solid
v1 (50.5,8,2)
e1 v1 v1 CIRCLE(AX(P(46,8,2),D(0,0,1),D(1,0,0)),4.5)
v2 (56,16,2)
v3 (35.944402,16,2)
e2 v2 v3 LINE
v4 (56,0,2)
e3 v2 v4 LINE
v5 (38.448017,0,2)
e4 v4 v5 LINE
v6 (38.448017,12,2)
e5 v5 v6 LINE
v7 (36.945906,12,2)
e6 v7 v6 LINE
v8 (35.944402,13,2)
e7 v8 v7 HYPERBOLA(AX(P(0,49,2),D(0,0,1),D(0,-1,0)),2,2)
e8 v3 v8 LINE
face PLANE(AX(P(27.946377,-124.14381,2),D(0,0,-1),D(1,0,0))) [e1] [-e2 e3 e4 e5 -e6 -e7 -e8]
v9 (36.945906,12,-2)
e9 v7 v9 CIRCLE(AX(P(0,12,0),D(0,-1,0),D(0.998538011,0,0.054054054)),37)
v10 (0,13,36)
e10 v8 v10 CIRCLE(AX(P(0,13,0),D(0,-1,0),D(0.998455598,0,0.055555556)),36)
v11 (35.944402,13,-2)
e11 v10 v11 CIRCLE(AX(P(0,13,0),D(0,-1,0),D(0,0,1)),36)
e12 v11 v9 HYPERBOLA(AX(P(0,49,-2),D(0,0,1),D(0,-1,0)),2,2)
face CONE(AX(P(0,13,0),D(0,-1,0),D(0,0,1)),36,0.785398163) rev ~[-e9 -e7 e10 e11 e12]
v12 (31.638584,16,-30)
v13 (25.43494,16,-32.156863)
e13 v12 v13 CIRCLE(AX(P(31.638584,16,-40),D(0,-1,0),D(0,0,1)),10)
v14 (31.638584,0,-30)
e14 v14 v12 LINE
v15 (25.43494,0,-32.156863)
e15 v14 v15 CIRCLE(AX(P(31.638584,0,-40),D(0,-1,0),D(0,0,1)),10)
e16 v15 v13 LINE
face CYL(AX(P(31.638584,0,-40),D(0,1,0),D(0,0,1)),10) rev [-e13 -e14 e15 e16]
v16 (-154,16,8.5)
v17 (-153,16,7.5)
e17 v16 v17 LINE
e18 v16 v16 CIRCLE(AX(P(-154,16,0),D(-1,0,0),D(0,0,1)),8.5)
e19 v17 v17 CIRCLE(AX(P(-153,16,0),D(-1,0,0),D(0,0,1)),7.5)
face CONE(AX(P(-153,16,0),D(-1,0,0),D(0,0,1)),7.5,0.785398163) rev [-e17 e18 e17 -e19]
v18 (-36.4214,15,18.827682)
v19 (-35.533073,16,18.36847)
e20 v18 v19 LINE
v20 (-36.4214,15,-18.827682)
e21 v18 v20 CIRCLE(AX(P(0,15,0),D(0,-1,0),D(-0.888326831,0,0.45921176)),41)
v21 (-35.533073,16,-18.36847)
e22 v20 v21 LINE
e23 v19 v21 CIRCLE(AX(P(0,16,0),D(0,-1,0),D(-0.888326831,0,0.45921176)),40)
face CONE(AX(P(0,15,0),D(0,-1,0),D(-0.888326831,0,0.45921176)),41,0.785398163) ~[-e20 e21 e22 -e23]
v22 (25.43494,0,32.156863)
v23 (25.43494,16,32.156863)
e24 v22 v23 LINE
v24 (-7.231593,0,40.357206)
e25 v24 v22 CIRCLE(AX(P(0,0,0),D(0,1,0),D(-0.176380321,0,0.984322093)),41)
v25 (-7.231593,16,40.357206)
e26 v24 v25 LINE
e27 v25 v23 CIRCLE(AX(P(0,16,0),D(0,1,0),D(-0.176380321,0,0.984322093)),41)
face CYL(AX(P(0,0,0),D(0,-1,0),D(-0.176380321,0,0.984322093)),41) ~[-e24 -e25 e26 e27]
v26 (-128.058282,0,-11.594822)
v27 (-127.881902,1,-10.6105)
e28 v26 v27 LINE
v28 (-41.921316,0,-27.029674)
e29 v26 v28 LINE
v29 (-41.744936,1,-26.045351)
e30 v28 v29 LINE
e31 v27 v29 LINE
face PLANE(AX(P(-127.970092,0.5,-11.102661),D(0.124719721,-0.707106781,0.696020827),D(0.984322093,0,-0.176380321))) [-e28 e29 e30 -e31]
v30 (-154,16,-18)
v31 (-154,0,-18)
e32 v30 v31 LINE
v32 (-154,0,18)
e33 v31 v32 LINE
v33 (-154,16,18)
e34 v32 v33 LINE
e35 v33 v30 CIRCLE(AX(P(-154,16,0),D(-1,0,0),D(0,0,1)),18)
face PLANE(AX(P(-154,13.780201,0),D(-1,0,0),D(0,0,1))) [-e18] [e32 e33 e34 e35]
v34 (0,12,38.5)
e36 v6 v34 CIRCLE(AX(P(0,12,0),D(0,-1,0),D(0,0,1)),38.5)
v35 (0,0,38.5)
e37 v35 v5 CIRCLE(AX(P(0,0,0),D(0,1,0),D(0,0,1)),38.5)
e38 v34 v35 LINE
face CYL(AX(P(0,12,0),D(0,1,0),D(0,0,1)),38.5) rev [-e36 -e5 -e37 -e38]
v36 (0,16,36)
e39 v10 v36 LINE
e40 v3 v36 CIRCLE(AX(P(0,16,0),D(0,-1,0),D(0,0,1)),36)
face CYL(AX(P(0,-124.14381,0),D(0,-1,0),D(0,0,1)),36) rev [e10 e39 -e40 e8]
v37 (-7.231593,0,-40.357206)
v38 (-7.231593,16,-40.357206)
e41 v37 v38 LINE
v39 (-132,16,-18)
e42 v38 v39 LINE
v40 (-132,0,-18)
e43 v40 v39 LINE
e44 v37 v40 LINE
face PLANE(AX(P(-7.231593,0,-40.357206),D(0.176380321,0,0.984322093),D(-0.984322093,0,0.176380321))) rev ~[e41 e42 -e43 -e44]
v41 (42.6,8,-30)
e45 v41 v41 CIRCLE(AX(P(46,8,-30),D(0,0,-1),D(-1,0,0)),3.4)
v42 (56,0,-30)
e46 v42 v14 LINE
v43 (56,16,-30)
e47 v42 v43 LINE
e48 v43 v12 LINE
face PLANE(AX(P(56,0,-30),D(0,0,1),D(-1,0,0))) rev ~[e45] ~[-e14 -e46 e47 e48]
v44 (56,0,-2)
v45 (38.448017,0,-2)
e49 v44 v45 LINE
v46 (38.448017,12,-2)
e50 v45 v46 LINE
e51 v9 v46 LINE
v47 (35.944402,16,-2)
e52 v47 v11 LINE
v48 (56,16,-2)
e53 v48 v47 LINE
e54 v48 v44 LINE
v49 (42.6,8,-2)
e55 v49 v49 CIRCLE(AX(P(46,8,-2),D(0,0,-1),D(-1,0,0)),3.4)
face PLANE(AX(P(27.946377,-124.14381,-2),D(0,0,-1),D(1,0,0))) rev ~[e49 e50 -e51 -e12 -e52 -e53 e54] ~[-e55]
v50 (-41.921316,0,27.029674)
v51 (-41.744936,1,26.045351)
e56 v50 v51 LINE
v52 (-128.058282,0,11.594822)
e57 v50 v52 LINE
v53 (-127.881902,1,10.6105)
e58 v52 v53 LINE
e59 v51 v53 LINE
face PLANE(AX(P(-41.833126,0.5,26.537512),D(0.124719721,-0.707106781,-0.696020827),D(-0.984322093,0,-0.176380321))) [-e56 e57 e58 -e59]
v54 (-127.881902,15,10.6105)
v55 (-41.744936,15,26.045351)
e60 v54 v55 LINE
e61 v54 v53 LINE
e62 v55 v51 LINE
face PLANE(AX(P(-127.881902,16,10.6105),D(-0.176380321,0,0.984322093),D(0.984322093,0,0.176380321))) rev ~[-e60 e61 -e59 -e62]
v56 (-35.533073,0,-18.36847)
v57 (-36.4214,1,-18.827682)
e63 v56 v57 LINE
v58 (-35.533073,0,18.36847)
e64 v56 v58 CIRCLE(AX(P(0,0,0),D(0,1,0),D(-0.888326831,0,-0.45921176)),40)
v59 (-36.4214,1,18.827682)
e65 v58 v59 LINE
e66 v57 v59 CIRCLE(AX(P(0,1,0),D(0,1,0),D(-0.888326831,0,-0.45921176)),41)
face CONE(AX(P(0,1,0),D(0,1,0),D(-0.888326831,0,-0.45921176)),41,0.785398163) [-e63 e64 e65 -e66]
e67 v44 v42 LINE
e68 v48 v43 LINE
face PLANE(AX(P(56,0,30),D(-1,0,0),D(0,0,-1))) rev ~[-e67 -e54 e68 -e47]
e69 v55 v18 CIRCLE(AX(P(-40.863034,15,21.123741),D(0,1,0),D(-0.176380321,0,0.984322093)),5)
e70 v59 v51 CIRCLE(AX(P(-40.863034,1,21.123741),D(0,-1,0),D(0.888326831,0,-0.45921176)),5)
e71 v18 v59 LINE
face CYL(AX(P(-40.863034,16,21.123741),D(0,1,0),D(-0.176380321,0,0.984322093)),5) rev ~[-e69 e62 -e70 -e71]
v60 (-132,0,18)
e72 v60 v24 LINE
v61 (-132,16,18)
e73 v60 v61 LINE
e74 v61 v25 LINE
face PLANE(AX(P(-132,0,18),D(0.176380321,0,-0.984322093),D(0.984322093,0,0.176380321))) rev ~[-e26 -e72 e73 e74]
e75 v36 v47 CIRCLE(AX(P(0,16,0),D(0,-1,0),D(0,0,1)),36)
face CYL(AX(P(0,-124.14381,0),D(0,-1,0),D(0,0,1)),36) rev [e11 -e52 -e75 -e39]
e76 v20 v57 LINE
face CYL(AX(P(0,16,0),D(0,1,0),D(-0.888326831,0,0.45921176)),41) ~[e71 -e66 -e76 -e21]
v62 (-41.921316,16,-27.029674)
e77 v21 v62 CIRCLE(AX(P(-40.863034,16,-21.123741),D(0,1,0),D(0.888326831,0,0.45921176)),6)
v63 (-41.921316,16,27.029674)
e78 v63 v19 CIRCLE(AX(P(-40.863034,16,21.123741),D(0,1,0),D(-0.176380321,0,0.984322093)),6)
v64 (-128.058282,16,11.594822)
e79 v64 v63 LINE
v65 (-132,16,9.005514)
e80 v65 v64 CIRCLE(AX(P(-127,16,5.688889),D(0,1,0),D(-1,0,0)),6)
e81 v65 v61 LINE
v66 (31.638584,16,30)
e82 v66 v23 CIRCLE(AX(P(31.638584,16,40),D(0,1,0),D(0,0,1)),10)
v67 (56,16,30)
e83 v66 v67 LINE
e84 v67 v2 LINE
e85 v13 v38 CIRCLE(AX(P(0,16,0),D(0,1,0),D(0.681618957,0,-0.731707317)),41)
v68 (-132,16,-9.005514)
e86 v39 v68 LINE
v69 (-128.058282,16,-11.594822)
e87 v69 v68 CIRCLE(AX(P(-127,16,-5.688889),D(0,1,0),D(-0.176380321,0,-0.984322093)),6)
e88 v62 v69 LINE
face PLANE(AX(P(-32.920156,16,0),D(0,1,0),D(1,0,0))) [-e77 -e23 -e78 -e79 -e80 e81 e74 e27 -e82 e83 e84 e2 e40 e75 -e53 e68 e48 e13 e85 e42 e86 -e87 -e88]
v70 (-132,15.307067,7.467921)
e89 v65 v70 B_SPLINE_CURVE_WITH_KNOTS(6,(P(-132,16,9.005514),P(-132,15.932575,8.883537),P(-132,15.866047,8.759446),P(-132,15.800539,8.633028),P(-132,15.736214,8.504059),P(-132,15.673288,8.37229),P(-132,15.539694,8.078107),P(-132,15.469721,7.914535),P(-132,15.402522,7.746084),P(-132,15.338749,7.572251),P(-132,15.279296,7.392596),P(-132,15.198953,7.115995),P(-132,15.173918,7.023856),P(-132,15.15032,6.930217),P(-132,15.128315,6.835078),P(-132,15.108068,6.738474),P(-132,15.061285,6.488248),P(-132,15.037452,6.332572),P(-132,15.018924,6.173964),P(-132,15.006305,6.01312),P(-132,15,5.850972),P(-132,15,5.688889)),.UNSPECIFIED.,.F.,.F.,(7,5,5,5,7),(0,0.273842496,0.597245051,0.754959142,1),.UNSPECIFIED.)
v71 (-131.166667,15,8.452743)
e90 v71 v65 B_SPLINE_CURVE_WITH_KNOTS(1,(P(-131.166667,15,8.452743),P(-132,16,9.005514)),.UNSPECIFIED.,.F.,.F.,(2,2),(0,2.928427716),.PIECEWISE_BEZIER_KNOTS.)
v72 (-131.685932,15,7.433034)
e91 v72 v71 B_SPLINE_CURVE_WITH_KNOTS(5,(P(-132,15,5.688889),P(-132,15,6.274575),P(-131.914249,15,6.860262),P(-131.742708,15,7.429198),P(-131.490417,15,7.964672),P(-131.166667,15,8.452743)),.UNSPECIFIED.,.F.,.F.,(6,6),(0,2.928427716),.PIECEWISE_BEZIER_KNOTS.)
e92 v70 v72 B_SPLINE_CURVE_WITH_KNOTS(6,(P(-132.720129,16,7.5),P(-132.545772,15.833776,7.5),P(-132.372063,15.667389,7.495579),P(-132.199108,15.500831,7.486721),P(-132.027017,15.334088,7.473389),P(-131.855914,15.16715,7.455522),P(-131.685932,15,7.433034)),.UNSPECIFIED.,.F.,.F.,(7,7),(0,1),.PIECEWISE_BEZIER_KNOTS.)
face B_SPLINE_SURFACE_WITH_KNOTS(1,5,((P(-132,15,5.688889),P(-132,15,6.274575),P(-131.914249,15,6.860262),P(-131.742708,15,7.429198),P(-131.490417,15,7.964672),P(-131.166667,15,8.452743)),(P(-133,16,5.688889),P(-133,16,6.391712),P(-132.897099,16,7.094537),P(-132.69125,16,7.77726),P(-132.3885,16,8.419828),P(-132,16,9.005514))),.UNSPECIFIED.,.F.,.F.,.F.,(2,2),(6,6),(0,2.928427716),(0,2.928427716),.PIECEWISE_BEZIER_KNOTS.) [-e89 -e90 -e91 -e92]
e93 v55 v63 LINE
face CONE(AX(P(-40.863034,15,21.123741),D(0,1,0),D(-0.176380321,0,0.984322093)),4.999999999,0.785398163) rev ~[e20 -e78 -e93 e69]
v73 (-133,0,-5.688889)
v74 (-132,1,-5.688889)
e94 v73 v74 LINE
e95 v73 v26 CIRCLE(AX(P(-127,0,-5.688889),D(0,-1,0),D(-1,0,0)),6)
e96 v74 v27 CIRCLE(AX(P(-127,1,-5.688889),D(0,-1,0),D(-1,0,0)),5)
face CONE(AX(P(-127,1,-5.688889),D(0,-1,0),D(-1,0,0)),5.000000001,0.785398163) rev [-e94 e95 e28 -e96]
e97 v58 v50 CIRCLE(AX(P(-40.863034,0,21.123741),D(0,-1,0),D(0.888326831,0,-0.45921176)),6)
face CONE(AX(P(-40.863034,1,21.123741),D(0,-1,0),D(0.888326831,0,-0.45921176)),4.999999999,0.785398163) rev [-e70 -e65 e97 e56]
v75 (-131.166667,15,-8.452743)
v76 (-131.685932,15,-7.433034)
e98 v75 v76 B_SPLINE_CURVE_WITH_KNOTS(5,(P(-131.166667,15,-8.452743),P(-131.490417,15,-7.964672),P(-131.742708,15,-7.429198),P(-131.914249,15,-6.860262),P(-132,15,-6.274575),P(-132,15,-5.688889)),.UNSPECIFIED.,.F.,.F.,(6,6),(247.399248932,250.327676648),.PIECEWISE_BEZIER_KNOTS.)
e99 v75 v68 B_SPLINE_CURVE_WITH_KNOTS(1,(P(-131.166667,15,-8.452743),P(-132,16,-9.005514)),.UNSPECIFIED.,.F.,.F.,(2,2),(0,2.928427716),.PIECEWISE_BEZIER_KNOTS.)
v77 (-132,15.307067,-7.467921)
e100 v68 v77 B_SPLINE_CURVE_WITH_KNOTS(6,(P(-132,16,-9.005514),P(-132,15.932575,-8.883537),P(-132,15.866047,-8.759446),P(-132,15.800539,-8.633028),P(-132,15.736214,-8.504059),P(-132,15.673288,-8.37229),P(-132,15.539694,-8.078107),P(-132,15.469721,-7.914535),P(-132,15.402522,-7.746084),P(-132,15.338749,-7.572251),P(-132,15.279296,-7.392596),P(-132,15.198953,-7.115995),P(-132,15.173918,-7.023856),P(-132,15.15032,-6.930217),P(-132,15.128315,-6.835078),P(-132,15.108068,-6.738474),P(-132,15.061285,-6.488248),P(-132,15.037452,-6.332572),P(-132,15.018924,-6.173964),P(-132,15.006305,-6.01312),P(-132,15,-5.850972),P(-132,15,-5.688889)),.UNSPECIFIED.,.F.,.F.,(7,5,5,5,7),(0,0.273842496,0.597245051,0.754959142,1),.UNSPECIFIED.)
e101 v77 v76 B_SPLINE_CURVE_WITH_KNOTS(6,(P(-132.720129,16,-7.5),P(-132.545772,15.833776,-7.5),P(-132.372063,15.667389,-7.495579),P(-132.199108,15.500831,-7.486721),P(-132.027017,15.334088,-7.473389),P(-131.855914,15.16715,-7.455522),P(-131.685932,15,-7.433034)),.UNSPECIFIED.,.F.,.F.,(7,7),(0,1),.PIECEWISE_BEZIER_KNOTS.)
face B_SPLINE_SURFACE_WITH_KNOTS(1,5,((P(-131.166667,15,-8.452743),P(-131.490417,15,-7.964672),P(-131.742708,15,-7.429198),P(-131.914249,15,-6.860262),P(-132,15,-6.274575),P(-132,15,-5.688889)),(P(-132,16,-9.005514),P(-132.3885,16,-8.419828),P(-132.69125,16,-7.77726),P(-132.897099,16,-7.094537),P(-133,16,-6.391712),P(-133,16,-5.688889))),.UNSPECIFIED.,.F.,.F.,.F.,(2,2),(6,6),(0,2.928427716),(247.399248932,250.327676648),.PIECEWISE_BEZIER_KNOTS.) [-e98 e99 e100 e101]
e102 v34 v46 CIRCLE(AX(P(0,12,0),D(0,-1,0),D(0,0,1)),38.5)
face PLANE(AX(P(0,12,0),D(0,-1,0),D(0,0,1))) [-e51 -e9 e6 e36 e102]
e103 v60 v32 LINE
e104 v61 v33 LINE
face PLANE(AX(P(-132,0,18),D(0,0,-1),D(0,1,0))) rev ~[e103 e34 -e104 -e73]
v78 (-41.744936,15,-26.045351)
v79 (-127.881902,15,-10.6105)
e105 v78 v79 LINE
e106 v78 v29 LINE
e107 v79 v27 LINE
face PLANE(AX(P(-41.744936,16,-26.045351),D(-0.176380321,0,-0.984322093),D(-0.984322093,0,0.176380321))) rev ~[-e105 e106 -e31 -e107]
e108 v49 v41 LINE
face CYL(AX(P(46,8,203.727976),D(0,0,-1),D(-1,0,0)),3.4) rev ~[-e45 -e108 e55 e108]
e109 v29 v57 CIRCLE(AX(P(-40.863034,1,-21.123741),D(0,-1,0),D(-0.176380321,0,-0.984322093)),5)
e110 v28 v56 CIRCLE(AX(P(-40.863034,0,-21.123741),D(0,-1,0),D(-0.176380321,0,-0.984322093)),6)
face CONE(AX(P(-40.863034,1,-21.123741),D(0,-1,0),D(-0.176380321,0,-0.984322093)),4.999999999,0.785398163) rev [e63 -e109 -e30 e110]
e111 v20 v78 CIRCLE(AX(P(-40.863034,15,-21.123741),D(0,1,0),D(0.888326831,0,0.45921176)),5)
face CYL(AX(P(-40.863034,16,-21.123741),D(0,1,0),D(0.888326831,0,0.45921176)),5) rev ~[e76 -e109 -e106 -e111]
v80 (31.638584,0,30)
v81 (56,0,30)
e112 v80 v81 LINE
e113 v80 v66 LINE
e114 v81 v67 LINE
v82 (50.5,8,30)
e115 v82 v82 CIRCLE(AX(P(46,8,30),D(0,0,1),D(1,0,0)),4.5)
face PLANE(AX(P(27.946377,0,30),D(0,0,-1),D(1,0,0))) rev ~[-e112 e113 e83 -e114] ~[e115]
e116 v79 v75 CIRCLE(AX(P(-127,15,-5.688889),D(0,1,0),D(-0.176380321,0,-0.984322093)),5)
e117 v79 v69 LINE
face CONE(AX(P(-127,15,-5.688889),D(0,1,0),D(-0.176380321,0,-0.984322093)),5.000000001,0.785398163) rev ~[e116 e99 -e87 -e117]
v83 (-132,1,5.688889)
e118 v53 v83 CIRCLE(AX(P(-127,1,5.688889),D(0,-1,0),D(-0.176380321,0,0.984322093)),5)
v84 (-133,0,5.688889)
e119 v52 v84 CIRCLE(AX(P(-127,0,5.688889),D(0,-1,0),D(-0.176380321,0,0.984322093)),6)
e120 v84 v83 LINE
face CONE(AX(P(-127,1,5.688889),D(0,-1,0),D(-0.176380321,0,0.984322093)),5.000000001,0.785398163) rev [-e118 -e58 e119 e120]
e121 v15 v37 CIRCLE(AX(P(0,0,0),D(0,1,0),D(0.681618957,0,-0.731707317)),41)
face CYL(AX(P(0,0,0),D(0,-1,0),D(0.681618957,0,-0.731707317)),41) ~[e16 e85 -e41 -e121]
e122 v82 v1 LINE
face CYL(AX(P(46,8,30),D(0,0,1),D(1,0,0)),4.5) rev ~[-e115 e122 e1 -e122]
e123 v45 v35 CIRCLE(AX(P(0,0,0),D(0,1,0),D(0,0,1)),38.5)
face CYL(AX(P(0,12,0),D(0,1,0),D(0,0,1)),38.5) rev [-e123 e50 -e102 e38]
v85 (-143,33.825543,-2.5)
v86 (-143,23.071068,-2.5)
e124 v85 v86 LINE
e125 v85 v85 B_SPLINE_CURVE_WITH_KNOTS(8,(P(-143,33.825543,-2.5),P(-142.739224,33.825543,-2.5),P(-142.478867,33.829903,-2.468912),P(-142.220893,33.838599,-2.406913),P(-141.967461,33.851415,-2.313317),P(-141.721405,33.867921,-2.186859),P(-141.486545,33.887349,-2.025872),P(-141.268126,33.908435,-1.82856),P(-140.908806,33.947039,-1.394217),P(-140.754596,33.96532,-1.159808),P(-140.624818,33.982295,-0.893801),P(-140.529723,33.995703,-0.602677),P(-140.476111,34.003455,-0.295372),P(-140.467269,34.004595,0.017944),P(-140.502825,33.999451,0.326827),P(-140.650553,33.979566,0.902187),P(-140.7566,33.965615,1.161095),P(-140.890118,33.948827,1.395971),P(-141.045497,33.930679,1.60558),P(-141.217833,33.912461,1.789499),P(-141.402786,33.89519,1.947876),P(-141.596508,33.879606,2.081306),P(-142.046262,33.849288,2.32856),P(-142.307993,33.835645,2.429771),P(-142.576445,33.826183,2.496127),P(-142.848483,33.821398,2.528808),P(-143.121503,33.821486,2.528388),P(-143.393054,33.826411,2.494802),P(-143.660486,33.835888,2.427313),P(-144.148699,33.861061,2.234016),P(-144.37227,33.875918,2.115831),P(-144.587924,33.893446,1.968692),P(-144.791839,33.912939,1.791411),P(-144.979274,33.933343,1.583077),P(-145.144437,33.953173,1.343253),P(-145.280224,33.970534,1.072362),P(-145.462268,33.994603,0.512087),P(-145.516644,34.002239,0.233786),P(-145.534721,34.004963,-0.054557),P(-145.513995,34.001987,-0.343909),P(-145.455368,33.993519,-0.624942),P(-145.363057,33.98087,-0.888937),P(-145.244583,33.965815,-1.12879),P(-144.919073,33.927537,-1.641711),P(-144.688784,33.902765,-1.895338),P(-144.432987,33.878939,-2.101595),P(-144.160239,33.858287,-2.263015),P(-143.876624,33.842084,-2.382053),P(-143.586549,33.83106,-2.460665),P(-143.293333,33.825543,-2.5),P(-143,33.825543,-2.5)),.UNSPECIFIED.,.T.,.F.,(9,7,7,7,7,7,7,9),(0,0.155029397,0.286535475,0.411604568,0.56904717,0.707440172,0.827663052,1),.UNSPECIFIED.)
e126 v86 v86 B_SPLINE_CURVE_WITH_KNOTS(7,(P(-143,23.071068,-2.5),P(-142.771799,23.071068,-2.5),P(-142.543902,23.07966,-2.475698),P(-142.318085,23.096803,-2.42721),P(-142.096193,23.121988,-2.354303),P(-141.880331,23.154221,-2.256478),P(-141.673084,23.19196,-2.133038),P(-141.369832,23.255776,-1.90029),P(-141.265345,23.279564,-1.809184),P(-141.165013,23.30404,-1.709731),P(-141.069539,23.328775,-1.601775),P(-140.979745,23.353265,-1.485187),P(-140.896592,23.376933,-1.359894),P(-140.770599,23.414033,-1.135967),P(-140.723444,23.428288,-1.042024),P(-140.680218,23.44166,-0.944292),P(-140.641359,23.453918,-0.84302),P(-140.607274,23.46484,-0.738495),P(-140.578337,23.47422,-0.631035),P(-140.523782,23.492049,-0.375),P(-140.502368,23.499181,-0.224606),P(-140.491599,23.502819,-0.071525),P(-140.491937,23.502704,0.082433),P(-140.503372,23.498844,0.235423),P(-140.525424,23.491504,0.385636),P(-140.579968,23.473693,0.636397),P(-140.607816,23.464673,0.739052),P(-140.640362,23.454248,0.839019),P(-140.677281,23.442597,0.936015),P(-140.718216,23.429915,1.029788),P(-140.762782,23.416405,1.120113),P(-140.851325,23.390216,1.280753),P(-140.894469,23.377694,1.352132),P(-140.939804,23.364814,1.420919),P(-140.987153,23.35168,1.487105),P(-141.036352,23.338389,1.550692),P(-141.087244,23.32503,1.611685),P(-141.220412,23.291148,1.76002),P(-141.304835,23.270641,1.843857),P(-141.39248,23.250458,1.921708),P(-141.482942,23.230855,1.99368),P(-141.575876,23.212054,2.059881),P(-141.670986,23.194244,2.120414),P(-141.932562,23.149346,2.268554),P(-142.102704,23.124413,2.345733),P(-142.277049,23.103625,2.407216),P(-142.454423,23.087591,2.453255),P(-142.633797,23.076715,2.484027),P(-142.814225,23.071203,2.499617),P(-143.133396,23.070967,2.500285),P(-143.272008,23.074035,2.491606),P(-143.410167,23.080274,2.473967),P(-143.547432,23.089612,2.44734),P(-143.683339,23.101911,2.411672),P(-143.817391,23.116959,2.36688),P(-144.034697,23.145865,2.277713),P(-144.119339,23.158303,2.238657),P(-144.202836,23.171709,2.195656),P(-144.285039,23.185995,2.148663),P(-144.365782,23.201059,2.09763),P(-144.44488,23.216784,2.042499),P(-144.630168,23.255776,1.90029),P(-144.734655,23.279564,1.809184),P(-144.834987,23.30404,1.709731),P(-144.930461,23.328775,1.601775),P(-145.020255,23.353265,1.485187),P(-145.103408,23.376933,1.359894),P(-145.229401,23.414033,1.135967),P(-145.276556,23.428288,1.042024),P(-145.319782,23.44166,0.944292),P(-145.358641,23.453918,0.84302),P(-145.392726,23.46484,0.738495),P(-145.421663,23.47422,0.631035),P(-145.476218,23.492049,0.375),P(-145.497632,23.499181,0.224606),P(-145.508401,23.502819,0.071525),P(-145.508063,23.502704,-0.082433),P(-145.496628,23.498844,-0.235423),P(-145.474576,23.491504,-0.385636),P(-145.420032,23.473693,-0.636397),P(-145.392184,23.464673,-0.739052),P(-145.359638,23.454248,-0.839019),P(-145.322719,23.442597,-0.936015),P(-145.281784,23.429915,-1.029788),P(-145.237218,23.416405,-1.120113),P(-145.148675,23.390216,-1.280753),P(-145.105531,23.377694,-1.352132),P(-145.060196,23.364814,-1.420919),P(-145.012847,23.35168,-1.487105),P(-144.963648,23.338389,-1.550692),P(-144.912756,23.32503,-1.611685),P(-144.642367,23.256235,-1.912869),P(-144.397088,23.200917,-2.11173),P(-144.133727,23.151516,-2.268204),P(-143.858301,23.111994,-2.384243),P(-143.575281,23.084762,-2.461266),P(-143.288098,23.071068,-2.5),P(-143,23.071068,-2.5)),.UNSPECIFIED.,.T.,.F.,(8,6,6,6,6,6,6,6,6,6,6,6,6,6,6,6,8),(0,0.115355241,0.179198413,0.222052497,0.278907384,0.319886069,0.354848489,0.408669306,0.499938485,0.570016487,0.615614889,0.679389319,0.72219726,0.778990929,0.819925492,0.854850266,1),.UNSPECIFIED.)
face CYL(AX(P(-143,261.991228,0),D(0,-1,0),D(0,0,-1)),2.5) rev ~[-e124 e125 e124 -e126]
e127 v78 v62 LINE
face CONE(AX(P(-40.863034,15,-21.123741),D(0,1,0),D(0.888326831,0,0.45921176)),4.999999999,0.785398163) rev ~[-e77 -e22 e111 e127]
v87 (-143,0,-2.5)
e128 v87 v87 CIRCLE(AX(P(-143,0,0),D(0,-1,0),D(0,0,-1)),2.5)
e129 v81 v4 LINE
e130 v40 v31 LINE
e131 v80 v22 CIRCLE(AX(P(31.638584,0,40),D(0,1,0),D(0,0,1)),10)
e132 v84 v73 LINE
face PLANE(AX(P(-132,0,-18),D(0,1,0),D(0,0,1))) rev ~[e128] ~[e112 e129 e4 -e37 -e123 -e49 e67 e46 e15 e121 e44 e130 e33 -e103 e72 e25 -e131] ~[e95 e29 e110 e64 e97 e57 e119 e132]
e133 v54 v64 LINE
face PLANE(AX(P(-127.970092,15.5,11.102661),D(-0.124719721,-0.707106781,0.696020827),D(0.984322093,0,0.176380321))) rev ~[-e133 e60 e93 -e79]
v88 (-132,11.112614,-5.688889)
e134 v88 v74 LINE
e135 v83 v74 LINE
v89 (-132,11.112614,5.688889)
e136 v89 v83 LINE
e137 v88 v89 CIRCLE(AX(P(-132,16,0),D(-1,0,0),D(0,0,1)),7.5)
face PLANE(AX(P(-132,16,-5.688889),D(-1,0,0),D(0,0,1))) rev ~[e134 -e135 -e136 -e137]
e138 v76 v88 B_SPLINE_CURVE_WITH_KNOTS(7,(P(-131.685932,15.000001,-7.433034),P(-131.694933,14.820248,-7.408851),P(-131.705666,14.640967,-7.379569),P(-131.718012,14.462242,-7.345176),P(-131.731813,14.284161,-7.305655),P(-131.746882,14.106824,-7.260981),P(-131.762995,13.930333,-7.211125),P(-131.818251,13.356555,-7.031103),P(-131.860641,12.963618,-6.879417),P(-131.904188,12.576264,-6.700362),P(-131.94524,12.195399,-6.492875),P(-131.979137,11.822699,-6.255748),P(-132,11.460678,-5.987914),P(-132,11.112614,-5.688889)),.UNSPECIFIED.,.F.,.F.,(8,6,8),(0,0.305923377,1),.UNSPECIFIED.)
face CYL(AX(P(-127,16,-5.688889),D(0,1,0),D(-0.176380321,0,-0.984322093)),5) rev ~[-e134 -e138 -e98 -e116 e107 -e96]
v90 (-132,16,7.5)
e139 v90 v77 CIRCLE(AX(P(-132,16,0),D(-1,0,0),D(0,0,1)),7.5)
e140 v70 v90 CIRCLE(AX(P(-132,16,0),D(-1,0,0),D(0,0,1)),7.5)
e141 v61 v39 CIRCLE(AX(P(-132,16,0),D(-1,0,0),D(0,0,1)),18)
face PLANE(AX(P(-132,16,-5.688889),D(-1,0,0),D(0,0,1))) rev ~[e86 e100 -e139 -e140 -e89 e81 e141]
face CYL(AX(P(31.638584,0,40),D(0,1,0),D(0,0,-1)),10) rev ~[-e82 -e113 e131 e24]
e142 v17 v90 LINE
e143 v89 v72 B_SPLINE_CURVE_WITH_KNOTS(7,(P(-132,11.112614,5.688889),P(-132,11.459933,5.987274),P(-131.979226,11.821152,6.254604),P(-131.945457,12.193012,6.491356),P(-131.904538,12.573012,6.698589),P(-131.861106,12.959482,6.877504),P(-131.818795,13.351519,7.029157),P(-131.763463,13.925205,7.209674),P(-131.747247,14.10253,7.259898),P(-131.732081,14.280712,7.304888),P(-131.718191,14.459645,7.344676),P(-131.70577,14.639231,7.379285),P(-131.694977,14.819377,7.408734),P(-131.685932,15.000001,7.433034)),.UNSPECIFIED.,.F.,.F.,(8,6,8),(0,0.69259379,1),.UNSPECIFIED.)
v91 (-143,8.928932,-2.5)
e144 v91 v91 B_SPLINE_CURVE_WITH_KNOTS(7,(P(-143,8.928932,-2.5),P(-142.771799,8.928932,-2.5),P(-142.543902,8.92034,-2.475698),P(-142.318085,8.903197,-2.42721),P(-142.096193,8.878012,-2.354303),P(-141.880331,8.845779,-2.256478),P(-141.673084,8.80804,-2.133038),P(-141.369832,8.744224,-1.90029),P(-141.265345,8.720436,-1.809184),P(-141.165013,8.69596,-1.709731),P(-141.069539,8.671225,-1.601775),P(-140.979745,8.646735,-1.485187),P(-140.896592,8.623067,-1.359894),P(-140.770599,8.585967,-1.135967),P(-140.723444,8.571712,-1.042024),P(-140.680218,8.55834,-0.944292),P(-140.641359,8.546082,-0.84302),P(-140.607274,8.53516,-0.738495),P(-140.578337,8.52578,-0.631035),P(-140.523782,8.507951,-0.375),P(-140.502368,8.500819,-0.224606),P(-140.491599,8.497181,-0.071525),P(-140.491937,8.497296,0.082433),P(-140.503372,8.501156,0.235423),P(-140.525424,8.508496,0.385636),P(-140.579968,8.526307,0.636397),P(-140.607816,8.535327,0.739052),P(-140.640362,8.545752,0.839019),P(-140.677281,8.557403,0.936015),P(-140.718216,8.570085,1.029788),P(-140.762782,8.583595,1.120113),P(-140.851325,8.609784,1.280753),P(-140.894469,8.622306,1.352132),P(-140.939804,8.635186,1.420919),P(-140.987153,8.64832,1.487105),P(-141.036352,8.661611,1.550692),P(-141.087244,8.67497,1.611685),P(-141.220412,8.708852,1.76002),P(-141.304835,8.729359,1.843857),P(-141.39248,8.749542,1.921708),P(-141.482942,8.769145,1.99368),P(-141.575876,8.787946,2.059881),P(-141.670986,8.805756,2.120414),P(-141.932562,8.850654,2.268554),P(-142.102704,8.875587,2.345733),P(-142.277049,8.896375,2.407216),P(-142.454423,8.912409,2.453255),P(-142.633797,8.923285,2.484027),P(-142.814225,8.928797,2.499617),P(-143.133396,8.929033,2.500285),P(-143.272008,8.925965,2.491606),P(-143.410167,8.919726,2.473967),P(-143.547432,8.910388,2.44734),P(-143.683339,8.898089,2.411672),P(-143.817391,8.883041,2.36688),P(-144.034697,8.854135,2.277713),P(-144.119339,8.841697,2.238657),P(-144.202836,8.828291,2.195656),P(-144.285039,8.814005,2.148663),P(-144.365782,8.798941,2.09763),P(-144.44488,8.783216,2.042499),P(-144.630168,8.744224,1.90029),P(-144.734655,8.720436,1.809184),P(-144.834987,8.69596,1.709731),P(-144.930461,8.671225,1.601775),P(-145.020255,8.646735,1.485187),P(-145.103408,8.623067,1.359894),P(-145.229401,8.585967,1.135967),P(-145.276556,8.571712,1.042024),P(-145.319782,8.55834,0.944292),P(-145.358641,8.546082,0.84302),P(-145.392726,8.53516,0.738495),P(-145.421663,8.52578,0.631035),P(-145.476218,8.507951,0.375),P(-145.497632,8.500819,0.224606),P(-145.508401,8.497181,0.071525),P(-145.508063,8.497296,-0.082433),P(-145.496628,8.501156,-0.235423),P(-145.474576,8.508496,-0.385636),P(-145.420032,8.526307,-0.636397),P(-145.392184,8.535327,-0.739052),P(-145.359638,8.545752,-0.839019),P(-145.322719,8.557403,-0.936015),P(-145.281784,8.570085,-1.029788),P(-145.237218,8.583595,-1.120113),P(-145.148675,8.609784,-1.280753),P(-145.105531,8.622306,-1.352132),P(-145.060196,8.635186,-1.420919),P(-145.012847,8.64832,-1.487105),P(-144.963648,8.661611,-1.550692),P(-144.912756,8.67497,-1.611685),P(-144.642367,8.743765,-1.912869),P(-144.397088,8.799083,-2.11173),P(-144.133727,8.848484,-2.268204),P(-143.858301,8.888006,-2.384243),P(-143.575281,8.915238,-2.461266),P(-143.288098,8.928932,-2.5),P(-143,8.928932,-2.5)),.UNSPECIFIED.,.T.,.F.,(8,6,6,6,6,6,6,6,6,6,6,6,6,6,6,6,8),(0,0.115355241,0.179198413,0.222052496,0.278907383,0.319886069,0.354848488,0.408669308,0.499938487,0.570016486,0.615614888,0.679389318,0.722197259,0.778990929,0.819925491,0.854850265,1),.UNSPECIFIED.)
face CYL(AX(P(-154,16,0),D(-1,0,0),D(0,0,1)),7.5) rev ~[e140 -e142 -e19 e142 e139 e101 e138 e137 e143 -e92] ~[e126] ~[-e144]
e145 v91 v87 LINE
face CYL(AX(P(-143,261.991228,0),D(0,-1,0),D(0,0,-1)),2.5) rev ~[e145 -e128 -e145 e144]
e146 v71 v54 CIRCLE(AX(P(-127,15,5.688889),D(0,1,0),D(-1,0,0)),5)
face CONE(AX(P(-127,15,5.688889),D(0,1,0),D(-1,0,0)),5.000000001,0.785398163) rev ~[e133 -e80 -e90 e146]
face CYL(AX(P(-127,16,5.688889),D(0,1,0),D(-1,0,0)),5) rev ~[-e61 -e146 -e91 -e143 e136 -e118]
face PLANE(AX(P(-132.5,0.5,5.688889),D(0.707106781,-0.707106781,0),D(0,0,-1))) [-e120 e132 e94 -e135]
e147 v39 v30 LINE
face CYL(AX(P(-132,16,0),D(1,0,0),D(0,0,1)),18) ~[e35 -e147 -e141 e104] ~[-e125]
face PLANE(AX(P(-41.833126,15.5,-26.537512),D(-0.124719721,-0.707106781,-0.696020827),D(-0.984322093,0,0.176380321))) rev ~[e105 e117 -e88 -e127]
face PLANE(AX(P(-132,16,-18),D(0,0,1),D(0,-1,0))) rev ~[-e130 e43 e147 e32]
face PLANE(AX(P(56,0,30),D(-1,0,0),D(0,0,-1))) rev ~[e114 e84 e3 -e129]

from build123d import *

# Parameters (mm, degrees)
EXTRUDE_1_DEPTH            = 16
CUT_EXTRUDE_1_DEPTH        = 140.143810498
CUT_EXTRUDE_1_DEPTH_BACK   = 140.143810498
SKETCH_2_R                 = 36
CUT_EXTRUDE_2_DEPTH        = 140.143810498
CUT_EXTRUDE_2_DEPTH_BACK   = 12
SKETCH_3_R                 = 38.5
CUT_EXTRUDE_1_2_DEPTH      = 140.143810498
CUT_EXTRUDE_1_2_DEPTH_BACK = 140.143810498
SKETCH_4_W                 = 46.223763545
SKETCH_4_H                 = 4
CUT_EXTRUDE_3_REACH        = 152.735
SKETCH_5_R                 = 4.5
HOLE_WIZARD_M8_1_D         = 6.8
FILLET_1_R                 = 10
EXTRUDE_2_DEPTH            = 22
CUT_EXTRUDE_4_REACH        = 162.378
CHAMFER_1_SIZE             = 1
CHAMFER_2_SIZE             = 1
CUT_EXTRUDE_5_REACH        = 218.649
SKETCH_12_R                = 7.5
F_5_0MM_1_D                = 5
CHAMFER_3_SIZE             = 1


with BuildPart() as part:
    # 草图1 → 凸台-拉伸1 (new body)
    with BuildSketch(Plane(origin=(0, 0, 0), x_dir=(1, 0, 0), z_dir=(0, 1, 0))):
        with BuildLine():
            Line((56, 30), (27.946377225, 30))
            ThreePointArc((27.946377225, 30), (11.579874692, 39.330732286), (-7.231593148, 40.357205807))
            Line((-7.231593148, 40.357205807), (-132, 18))
            Line((-132, 18), (-132, -18))
            Line((-132, -18), (-7.231593148, -40.357205807))
            ThreePointArc((-7.231593148, -40.357205807), (11.579874692, -39.330732286), (27.946377225, -30))
            Line((27.946377225, -30), (56, -30))
            Line((56, -30), (56, 30))
        make_face()
    extrude(amount=EXTRUDE_1_DEPTH)

    # 草图2 → Cut-Extrude 1 (cut, two sides: drawn at the far end of the back side and taken through both)
    with BuildSketch(Plane(origin=(0, 16, 0), x_dir=(1, 0, 0), z_dir=(0, 1, 0)).offset(-CUT_EXTRUDE_1_DEPTH_BACK)):
        with Locations(Location((0, 0, 0), (0, 0, 270))):
            Circle(SKETCH_2_R)
    extrude(amount=CUT_EXTRUDE_1_DEPTH + CUT_EXTRUDE_1_DEPTH_BACK, mode=Mode.SUBTRACT)

    # 草图3 → 切除-拉伸2 (cut, two sides: drawn at the far end of the back side and taken through both)
    with BuildSketch(Plane.XZ.offset(-CUT_EXTRUDE_2_DEPTH_BACK)):
        with Locations(Location((0, 0, 0), (0, 0, 90))):
            Circle(SKETCH_3_R)
    extrude(amount=CUT_EXTRUDE_2_DEPTH + CUT_EXTRUDE_2_DEPTH_BACK, mode=Mode.SUBTRACT)

    # 草图4 → Cut-Extrude 1 2 (cut, two sides: drawn at the far end of the back side and taken through both)
    with BuildSketch(Plane(origin=(0, 16, 0), x_dir=(1, 0, 0), z_dir=(0, 1, 0)).offset(-CUT_EXTRUDE_1_2_DEPTH_BACK)):
        with Locations((51.058258998, 0)):
            Rectangle(SKETCH_4_W, SKETCH_4_H)
    extrude(amount=CUT_EXTRUDE_1_2_DEPTH + CUT_EXTRUDE_1_2_DEPTH_BACK, mode=Mode.SUBTRACT)

    # 草图5 → 切除-拉伸3 (cut, up to next)
    with BuildSketch(Plane.XY.offset(30), mode=Mode.PRIVATE) as cut_extrude_3_sk1:
        with Locations((46, 8)):
            Circle(SKETCH_5_R)
    cut_extrude_3_tool1 = extrude(cut_extrude_3_sk1.sketch, amount=-CUT_EXTRUDE_3_REACH, mode=Mode.PRIVATE) & part.part
    add(cut_extrude_3_tool1.solids().sort_by_distance((46, 8, 30))[0], mode=Mode.SUBTRACT)

    # M8 螺纹孔1 (through all)
    with Locations(Plane.XY.offset(-2)):
        with Locations((46, 8)):
            Hole(HOLE_WIZARD_M8_1_D / 2)

    # 圆角1
    fillet_1_edges = [part.edges().sort_by_distance(p)[0] for p in [
        (27.946377225, 8, 30),
        (27.946377225, 8, -30),
    ]]
    fillet(fillet_1_edges, radius=FILLET_1_R)

    # 草图11 → 凸台-拉伸2 (add)
    with BuildSketch(Plane.ZY.offset(132)):
        with BuildLine():
            Line((-18, 0), (18, 0))
            Line((18, 0), (18, 16))
            ThreePointArc((18, 16), (0, 34), (-18, 16))
            Line((-18, 16), (-18, 0))
        make_face()
    extrude(amount=EXTRUDE_2_DEPTH)

    # 草图13 → 切除-拉伸4 (cut, up to next)
    with BuildSketch(Plane(origin=(0, 16, 0), x_dir=(1, 0, 0), z_dir=(0, 1, 0)), mode=Mode.PRIVATE) as cut_extrude_4_sk1:
        with BuildLine():
            Line((-41.744935847, 26.04535143), (-127.881901603, 10.610499615))
            ThreePointArc((-127.881901603, 10.610499615), (-130.834677823, 8.897509725), (-132, 5.688889151))
            Line((-132, 5.688889151), (-132, -5.688889151))
            ThreePointArc((-132, -5.688889151), (-130.834677823, -8.897509725), (-127.881901603, -10.610499615))
            Line((-127.881901603, -10.610499615), (-41.744935847, -26.04535143))
            ThreePointArc((-41.744935847, -26.04535143), (-36.839154105, -24.091633928), (-36.421400087, -18.827682165))
            ThreePointArc((-36.421400087, -18.827682165), (-41, 0), (-36.421400087, 18.827682165))
            ThreePointArc((-36.421400087, 18.827682165), (-36.839154105, 24.091633928), (-41.744935847, 26.04535143))
        make_face()
    cut_extrude_4_tool1 = extrude(cut_extrude_4_sk1.sketch, amount=-CUT_EXTRUDE_4_REACH, mode=Mode.PRIVATE) & part.part
    add(cut_extrude_4_tool1.solids().sort_by_distance((-78.107907, 16, 0))[0], mode=Mode.SUBTRACT)

    # 倒角1
    chamfer_1_edges = [part.edges().sort_by_distance(p)[0] for p in [
        (-130.834677823, 16, -8.897509725),
        (-130.834677823, 16, 8.897509725),
        (-84.813418725, 16, 18.327925523),
        (-36.839154105, 16, 24.091633928),
        (-41, 16, 0),
        (-36.839154105, 16, -24.091633928),
        (-84.813418725, 16, -18.327925523),
        (-132, 0, 0),
        (-130.834677823, 0, -8.897509725),
        (-84.813418725, 0, -18.327925523),
        (-36.839154105, 0, -24.091633928),
        (-41, 0, 0),
        (-36.839154105, 0, 24.091633928),
        (-84.813418725, 0, 18.327925523),
        (-130.834677823, 0, 8.897509725),
    ]]
    chamfer(chamfer_1_edges, length=CHAMFER_1_SIZE)

    # 倒角2
    chamfer_2_edges = [part.edges().sort_by_distance(p)[0] for p in [
        (-26.153393661, 12, -24.738633754),
    ]]
    chamfer(chamfer_2_edges, length=CHAMFER_2_SIZE)

    # 草图12 → 切除-拉伸5 (cut, up to next)
    with BuildSketch(Plane.ZY.offset(154), mode=Mode.PRIVATE) as cut_extrude_5_sk1:
        with Locations((0, 16)):
            Circle(SKETCH_12_R)
    cut_extrude_5_tool1 = extrude(cut_extrude_5_sk1.sketch, amount=-CUT_EXTRUDE_5_REACH, mode=Mode.PRIVATE) & part.part
    add(cut_extrude_5_tool1.solids().sort_by_distance((-154, 16, 0))[0], mode=Mode.SUBTRACT)

    # Ø5.0mm 暗销孔1 (through all)
    with Locations(Plane(origin=(-143, 34, 0), x_dir=(0, 0, 1), z_dir=(0, 1, 0))):
        with Locations((0, 0)):
            Hole(F_5_0MM_1_D / 2)

    # 倒角3
    chamfer_3_edges = [part.edges().sort_by_distance(p)[0] for p in [
        (-154, 16, -7.5),
    ]]
    chamfer(chamfer_3_edges, length=CHAMFER_3_SIZE)


solid = part.part
